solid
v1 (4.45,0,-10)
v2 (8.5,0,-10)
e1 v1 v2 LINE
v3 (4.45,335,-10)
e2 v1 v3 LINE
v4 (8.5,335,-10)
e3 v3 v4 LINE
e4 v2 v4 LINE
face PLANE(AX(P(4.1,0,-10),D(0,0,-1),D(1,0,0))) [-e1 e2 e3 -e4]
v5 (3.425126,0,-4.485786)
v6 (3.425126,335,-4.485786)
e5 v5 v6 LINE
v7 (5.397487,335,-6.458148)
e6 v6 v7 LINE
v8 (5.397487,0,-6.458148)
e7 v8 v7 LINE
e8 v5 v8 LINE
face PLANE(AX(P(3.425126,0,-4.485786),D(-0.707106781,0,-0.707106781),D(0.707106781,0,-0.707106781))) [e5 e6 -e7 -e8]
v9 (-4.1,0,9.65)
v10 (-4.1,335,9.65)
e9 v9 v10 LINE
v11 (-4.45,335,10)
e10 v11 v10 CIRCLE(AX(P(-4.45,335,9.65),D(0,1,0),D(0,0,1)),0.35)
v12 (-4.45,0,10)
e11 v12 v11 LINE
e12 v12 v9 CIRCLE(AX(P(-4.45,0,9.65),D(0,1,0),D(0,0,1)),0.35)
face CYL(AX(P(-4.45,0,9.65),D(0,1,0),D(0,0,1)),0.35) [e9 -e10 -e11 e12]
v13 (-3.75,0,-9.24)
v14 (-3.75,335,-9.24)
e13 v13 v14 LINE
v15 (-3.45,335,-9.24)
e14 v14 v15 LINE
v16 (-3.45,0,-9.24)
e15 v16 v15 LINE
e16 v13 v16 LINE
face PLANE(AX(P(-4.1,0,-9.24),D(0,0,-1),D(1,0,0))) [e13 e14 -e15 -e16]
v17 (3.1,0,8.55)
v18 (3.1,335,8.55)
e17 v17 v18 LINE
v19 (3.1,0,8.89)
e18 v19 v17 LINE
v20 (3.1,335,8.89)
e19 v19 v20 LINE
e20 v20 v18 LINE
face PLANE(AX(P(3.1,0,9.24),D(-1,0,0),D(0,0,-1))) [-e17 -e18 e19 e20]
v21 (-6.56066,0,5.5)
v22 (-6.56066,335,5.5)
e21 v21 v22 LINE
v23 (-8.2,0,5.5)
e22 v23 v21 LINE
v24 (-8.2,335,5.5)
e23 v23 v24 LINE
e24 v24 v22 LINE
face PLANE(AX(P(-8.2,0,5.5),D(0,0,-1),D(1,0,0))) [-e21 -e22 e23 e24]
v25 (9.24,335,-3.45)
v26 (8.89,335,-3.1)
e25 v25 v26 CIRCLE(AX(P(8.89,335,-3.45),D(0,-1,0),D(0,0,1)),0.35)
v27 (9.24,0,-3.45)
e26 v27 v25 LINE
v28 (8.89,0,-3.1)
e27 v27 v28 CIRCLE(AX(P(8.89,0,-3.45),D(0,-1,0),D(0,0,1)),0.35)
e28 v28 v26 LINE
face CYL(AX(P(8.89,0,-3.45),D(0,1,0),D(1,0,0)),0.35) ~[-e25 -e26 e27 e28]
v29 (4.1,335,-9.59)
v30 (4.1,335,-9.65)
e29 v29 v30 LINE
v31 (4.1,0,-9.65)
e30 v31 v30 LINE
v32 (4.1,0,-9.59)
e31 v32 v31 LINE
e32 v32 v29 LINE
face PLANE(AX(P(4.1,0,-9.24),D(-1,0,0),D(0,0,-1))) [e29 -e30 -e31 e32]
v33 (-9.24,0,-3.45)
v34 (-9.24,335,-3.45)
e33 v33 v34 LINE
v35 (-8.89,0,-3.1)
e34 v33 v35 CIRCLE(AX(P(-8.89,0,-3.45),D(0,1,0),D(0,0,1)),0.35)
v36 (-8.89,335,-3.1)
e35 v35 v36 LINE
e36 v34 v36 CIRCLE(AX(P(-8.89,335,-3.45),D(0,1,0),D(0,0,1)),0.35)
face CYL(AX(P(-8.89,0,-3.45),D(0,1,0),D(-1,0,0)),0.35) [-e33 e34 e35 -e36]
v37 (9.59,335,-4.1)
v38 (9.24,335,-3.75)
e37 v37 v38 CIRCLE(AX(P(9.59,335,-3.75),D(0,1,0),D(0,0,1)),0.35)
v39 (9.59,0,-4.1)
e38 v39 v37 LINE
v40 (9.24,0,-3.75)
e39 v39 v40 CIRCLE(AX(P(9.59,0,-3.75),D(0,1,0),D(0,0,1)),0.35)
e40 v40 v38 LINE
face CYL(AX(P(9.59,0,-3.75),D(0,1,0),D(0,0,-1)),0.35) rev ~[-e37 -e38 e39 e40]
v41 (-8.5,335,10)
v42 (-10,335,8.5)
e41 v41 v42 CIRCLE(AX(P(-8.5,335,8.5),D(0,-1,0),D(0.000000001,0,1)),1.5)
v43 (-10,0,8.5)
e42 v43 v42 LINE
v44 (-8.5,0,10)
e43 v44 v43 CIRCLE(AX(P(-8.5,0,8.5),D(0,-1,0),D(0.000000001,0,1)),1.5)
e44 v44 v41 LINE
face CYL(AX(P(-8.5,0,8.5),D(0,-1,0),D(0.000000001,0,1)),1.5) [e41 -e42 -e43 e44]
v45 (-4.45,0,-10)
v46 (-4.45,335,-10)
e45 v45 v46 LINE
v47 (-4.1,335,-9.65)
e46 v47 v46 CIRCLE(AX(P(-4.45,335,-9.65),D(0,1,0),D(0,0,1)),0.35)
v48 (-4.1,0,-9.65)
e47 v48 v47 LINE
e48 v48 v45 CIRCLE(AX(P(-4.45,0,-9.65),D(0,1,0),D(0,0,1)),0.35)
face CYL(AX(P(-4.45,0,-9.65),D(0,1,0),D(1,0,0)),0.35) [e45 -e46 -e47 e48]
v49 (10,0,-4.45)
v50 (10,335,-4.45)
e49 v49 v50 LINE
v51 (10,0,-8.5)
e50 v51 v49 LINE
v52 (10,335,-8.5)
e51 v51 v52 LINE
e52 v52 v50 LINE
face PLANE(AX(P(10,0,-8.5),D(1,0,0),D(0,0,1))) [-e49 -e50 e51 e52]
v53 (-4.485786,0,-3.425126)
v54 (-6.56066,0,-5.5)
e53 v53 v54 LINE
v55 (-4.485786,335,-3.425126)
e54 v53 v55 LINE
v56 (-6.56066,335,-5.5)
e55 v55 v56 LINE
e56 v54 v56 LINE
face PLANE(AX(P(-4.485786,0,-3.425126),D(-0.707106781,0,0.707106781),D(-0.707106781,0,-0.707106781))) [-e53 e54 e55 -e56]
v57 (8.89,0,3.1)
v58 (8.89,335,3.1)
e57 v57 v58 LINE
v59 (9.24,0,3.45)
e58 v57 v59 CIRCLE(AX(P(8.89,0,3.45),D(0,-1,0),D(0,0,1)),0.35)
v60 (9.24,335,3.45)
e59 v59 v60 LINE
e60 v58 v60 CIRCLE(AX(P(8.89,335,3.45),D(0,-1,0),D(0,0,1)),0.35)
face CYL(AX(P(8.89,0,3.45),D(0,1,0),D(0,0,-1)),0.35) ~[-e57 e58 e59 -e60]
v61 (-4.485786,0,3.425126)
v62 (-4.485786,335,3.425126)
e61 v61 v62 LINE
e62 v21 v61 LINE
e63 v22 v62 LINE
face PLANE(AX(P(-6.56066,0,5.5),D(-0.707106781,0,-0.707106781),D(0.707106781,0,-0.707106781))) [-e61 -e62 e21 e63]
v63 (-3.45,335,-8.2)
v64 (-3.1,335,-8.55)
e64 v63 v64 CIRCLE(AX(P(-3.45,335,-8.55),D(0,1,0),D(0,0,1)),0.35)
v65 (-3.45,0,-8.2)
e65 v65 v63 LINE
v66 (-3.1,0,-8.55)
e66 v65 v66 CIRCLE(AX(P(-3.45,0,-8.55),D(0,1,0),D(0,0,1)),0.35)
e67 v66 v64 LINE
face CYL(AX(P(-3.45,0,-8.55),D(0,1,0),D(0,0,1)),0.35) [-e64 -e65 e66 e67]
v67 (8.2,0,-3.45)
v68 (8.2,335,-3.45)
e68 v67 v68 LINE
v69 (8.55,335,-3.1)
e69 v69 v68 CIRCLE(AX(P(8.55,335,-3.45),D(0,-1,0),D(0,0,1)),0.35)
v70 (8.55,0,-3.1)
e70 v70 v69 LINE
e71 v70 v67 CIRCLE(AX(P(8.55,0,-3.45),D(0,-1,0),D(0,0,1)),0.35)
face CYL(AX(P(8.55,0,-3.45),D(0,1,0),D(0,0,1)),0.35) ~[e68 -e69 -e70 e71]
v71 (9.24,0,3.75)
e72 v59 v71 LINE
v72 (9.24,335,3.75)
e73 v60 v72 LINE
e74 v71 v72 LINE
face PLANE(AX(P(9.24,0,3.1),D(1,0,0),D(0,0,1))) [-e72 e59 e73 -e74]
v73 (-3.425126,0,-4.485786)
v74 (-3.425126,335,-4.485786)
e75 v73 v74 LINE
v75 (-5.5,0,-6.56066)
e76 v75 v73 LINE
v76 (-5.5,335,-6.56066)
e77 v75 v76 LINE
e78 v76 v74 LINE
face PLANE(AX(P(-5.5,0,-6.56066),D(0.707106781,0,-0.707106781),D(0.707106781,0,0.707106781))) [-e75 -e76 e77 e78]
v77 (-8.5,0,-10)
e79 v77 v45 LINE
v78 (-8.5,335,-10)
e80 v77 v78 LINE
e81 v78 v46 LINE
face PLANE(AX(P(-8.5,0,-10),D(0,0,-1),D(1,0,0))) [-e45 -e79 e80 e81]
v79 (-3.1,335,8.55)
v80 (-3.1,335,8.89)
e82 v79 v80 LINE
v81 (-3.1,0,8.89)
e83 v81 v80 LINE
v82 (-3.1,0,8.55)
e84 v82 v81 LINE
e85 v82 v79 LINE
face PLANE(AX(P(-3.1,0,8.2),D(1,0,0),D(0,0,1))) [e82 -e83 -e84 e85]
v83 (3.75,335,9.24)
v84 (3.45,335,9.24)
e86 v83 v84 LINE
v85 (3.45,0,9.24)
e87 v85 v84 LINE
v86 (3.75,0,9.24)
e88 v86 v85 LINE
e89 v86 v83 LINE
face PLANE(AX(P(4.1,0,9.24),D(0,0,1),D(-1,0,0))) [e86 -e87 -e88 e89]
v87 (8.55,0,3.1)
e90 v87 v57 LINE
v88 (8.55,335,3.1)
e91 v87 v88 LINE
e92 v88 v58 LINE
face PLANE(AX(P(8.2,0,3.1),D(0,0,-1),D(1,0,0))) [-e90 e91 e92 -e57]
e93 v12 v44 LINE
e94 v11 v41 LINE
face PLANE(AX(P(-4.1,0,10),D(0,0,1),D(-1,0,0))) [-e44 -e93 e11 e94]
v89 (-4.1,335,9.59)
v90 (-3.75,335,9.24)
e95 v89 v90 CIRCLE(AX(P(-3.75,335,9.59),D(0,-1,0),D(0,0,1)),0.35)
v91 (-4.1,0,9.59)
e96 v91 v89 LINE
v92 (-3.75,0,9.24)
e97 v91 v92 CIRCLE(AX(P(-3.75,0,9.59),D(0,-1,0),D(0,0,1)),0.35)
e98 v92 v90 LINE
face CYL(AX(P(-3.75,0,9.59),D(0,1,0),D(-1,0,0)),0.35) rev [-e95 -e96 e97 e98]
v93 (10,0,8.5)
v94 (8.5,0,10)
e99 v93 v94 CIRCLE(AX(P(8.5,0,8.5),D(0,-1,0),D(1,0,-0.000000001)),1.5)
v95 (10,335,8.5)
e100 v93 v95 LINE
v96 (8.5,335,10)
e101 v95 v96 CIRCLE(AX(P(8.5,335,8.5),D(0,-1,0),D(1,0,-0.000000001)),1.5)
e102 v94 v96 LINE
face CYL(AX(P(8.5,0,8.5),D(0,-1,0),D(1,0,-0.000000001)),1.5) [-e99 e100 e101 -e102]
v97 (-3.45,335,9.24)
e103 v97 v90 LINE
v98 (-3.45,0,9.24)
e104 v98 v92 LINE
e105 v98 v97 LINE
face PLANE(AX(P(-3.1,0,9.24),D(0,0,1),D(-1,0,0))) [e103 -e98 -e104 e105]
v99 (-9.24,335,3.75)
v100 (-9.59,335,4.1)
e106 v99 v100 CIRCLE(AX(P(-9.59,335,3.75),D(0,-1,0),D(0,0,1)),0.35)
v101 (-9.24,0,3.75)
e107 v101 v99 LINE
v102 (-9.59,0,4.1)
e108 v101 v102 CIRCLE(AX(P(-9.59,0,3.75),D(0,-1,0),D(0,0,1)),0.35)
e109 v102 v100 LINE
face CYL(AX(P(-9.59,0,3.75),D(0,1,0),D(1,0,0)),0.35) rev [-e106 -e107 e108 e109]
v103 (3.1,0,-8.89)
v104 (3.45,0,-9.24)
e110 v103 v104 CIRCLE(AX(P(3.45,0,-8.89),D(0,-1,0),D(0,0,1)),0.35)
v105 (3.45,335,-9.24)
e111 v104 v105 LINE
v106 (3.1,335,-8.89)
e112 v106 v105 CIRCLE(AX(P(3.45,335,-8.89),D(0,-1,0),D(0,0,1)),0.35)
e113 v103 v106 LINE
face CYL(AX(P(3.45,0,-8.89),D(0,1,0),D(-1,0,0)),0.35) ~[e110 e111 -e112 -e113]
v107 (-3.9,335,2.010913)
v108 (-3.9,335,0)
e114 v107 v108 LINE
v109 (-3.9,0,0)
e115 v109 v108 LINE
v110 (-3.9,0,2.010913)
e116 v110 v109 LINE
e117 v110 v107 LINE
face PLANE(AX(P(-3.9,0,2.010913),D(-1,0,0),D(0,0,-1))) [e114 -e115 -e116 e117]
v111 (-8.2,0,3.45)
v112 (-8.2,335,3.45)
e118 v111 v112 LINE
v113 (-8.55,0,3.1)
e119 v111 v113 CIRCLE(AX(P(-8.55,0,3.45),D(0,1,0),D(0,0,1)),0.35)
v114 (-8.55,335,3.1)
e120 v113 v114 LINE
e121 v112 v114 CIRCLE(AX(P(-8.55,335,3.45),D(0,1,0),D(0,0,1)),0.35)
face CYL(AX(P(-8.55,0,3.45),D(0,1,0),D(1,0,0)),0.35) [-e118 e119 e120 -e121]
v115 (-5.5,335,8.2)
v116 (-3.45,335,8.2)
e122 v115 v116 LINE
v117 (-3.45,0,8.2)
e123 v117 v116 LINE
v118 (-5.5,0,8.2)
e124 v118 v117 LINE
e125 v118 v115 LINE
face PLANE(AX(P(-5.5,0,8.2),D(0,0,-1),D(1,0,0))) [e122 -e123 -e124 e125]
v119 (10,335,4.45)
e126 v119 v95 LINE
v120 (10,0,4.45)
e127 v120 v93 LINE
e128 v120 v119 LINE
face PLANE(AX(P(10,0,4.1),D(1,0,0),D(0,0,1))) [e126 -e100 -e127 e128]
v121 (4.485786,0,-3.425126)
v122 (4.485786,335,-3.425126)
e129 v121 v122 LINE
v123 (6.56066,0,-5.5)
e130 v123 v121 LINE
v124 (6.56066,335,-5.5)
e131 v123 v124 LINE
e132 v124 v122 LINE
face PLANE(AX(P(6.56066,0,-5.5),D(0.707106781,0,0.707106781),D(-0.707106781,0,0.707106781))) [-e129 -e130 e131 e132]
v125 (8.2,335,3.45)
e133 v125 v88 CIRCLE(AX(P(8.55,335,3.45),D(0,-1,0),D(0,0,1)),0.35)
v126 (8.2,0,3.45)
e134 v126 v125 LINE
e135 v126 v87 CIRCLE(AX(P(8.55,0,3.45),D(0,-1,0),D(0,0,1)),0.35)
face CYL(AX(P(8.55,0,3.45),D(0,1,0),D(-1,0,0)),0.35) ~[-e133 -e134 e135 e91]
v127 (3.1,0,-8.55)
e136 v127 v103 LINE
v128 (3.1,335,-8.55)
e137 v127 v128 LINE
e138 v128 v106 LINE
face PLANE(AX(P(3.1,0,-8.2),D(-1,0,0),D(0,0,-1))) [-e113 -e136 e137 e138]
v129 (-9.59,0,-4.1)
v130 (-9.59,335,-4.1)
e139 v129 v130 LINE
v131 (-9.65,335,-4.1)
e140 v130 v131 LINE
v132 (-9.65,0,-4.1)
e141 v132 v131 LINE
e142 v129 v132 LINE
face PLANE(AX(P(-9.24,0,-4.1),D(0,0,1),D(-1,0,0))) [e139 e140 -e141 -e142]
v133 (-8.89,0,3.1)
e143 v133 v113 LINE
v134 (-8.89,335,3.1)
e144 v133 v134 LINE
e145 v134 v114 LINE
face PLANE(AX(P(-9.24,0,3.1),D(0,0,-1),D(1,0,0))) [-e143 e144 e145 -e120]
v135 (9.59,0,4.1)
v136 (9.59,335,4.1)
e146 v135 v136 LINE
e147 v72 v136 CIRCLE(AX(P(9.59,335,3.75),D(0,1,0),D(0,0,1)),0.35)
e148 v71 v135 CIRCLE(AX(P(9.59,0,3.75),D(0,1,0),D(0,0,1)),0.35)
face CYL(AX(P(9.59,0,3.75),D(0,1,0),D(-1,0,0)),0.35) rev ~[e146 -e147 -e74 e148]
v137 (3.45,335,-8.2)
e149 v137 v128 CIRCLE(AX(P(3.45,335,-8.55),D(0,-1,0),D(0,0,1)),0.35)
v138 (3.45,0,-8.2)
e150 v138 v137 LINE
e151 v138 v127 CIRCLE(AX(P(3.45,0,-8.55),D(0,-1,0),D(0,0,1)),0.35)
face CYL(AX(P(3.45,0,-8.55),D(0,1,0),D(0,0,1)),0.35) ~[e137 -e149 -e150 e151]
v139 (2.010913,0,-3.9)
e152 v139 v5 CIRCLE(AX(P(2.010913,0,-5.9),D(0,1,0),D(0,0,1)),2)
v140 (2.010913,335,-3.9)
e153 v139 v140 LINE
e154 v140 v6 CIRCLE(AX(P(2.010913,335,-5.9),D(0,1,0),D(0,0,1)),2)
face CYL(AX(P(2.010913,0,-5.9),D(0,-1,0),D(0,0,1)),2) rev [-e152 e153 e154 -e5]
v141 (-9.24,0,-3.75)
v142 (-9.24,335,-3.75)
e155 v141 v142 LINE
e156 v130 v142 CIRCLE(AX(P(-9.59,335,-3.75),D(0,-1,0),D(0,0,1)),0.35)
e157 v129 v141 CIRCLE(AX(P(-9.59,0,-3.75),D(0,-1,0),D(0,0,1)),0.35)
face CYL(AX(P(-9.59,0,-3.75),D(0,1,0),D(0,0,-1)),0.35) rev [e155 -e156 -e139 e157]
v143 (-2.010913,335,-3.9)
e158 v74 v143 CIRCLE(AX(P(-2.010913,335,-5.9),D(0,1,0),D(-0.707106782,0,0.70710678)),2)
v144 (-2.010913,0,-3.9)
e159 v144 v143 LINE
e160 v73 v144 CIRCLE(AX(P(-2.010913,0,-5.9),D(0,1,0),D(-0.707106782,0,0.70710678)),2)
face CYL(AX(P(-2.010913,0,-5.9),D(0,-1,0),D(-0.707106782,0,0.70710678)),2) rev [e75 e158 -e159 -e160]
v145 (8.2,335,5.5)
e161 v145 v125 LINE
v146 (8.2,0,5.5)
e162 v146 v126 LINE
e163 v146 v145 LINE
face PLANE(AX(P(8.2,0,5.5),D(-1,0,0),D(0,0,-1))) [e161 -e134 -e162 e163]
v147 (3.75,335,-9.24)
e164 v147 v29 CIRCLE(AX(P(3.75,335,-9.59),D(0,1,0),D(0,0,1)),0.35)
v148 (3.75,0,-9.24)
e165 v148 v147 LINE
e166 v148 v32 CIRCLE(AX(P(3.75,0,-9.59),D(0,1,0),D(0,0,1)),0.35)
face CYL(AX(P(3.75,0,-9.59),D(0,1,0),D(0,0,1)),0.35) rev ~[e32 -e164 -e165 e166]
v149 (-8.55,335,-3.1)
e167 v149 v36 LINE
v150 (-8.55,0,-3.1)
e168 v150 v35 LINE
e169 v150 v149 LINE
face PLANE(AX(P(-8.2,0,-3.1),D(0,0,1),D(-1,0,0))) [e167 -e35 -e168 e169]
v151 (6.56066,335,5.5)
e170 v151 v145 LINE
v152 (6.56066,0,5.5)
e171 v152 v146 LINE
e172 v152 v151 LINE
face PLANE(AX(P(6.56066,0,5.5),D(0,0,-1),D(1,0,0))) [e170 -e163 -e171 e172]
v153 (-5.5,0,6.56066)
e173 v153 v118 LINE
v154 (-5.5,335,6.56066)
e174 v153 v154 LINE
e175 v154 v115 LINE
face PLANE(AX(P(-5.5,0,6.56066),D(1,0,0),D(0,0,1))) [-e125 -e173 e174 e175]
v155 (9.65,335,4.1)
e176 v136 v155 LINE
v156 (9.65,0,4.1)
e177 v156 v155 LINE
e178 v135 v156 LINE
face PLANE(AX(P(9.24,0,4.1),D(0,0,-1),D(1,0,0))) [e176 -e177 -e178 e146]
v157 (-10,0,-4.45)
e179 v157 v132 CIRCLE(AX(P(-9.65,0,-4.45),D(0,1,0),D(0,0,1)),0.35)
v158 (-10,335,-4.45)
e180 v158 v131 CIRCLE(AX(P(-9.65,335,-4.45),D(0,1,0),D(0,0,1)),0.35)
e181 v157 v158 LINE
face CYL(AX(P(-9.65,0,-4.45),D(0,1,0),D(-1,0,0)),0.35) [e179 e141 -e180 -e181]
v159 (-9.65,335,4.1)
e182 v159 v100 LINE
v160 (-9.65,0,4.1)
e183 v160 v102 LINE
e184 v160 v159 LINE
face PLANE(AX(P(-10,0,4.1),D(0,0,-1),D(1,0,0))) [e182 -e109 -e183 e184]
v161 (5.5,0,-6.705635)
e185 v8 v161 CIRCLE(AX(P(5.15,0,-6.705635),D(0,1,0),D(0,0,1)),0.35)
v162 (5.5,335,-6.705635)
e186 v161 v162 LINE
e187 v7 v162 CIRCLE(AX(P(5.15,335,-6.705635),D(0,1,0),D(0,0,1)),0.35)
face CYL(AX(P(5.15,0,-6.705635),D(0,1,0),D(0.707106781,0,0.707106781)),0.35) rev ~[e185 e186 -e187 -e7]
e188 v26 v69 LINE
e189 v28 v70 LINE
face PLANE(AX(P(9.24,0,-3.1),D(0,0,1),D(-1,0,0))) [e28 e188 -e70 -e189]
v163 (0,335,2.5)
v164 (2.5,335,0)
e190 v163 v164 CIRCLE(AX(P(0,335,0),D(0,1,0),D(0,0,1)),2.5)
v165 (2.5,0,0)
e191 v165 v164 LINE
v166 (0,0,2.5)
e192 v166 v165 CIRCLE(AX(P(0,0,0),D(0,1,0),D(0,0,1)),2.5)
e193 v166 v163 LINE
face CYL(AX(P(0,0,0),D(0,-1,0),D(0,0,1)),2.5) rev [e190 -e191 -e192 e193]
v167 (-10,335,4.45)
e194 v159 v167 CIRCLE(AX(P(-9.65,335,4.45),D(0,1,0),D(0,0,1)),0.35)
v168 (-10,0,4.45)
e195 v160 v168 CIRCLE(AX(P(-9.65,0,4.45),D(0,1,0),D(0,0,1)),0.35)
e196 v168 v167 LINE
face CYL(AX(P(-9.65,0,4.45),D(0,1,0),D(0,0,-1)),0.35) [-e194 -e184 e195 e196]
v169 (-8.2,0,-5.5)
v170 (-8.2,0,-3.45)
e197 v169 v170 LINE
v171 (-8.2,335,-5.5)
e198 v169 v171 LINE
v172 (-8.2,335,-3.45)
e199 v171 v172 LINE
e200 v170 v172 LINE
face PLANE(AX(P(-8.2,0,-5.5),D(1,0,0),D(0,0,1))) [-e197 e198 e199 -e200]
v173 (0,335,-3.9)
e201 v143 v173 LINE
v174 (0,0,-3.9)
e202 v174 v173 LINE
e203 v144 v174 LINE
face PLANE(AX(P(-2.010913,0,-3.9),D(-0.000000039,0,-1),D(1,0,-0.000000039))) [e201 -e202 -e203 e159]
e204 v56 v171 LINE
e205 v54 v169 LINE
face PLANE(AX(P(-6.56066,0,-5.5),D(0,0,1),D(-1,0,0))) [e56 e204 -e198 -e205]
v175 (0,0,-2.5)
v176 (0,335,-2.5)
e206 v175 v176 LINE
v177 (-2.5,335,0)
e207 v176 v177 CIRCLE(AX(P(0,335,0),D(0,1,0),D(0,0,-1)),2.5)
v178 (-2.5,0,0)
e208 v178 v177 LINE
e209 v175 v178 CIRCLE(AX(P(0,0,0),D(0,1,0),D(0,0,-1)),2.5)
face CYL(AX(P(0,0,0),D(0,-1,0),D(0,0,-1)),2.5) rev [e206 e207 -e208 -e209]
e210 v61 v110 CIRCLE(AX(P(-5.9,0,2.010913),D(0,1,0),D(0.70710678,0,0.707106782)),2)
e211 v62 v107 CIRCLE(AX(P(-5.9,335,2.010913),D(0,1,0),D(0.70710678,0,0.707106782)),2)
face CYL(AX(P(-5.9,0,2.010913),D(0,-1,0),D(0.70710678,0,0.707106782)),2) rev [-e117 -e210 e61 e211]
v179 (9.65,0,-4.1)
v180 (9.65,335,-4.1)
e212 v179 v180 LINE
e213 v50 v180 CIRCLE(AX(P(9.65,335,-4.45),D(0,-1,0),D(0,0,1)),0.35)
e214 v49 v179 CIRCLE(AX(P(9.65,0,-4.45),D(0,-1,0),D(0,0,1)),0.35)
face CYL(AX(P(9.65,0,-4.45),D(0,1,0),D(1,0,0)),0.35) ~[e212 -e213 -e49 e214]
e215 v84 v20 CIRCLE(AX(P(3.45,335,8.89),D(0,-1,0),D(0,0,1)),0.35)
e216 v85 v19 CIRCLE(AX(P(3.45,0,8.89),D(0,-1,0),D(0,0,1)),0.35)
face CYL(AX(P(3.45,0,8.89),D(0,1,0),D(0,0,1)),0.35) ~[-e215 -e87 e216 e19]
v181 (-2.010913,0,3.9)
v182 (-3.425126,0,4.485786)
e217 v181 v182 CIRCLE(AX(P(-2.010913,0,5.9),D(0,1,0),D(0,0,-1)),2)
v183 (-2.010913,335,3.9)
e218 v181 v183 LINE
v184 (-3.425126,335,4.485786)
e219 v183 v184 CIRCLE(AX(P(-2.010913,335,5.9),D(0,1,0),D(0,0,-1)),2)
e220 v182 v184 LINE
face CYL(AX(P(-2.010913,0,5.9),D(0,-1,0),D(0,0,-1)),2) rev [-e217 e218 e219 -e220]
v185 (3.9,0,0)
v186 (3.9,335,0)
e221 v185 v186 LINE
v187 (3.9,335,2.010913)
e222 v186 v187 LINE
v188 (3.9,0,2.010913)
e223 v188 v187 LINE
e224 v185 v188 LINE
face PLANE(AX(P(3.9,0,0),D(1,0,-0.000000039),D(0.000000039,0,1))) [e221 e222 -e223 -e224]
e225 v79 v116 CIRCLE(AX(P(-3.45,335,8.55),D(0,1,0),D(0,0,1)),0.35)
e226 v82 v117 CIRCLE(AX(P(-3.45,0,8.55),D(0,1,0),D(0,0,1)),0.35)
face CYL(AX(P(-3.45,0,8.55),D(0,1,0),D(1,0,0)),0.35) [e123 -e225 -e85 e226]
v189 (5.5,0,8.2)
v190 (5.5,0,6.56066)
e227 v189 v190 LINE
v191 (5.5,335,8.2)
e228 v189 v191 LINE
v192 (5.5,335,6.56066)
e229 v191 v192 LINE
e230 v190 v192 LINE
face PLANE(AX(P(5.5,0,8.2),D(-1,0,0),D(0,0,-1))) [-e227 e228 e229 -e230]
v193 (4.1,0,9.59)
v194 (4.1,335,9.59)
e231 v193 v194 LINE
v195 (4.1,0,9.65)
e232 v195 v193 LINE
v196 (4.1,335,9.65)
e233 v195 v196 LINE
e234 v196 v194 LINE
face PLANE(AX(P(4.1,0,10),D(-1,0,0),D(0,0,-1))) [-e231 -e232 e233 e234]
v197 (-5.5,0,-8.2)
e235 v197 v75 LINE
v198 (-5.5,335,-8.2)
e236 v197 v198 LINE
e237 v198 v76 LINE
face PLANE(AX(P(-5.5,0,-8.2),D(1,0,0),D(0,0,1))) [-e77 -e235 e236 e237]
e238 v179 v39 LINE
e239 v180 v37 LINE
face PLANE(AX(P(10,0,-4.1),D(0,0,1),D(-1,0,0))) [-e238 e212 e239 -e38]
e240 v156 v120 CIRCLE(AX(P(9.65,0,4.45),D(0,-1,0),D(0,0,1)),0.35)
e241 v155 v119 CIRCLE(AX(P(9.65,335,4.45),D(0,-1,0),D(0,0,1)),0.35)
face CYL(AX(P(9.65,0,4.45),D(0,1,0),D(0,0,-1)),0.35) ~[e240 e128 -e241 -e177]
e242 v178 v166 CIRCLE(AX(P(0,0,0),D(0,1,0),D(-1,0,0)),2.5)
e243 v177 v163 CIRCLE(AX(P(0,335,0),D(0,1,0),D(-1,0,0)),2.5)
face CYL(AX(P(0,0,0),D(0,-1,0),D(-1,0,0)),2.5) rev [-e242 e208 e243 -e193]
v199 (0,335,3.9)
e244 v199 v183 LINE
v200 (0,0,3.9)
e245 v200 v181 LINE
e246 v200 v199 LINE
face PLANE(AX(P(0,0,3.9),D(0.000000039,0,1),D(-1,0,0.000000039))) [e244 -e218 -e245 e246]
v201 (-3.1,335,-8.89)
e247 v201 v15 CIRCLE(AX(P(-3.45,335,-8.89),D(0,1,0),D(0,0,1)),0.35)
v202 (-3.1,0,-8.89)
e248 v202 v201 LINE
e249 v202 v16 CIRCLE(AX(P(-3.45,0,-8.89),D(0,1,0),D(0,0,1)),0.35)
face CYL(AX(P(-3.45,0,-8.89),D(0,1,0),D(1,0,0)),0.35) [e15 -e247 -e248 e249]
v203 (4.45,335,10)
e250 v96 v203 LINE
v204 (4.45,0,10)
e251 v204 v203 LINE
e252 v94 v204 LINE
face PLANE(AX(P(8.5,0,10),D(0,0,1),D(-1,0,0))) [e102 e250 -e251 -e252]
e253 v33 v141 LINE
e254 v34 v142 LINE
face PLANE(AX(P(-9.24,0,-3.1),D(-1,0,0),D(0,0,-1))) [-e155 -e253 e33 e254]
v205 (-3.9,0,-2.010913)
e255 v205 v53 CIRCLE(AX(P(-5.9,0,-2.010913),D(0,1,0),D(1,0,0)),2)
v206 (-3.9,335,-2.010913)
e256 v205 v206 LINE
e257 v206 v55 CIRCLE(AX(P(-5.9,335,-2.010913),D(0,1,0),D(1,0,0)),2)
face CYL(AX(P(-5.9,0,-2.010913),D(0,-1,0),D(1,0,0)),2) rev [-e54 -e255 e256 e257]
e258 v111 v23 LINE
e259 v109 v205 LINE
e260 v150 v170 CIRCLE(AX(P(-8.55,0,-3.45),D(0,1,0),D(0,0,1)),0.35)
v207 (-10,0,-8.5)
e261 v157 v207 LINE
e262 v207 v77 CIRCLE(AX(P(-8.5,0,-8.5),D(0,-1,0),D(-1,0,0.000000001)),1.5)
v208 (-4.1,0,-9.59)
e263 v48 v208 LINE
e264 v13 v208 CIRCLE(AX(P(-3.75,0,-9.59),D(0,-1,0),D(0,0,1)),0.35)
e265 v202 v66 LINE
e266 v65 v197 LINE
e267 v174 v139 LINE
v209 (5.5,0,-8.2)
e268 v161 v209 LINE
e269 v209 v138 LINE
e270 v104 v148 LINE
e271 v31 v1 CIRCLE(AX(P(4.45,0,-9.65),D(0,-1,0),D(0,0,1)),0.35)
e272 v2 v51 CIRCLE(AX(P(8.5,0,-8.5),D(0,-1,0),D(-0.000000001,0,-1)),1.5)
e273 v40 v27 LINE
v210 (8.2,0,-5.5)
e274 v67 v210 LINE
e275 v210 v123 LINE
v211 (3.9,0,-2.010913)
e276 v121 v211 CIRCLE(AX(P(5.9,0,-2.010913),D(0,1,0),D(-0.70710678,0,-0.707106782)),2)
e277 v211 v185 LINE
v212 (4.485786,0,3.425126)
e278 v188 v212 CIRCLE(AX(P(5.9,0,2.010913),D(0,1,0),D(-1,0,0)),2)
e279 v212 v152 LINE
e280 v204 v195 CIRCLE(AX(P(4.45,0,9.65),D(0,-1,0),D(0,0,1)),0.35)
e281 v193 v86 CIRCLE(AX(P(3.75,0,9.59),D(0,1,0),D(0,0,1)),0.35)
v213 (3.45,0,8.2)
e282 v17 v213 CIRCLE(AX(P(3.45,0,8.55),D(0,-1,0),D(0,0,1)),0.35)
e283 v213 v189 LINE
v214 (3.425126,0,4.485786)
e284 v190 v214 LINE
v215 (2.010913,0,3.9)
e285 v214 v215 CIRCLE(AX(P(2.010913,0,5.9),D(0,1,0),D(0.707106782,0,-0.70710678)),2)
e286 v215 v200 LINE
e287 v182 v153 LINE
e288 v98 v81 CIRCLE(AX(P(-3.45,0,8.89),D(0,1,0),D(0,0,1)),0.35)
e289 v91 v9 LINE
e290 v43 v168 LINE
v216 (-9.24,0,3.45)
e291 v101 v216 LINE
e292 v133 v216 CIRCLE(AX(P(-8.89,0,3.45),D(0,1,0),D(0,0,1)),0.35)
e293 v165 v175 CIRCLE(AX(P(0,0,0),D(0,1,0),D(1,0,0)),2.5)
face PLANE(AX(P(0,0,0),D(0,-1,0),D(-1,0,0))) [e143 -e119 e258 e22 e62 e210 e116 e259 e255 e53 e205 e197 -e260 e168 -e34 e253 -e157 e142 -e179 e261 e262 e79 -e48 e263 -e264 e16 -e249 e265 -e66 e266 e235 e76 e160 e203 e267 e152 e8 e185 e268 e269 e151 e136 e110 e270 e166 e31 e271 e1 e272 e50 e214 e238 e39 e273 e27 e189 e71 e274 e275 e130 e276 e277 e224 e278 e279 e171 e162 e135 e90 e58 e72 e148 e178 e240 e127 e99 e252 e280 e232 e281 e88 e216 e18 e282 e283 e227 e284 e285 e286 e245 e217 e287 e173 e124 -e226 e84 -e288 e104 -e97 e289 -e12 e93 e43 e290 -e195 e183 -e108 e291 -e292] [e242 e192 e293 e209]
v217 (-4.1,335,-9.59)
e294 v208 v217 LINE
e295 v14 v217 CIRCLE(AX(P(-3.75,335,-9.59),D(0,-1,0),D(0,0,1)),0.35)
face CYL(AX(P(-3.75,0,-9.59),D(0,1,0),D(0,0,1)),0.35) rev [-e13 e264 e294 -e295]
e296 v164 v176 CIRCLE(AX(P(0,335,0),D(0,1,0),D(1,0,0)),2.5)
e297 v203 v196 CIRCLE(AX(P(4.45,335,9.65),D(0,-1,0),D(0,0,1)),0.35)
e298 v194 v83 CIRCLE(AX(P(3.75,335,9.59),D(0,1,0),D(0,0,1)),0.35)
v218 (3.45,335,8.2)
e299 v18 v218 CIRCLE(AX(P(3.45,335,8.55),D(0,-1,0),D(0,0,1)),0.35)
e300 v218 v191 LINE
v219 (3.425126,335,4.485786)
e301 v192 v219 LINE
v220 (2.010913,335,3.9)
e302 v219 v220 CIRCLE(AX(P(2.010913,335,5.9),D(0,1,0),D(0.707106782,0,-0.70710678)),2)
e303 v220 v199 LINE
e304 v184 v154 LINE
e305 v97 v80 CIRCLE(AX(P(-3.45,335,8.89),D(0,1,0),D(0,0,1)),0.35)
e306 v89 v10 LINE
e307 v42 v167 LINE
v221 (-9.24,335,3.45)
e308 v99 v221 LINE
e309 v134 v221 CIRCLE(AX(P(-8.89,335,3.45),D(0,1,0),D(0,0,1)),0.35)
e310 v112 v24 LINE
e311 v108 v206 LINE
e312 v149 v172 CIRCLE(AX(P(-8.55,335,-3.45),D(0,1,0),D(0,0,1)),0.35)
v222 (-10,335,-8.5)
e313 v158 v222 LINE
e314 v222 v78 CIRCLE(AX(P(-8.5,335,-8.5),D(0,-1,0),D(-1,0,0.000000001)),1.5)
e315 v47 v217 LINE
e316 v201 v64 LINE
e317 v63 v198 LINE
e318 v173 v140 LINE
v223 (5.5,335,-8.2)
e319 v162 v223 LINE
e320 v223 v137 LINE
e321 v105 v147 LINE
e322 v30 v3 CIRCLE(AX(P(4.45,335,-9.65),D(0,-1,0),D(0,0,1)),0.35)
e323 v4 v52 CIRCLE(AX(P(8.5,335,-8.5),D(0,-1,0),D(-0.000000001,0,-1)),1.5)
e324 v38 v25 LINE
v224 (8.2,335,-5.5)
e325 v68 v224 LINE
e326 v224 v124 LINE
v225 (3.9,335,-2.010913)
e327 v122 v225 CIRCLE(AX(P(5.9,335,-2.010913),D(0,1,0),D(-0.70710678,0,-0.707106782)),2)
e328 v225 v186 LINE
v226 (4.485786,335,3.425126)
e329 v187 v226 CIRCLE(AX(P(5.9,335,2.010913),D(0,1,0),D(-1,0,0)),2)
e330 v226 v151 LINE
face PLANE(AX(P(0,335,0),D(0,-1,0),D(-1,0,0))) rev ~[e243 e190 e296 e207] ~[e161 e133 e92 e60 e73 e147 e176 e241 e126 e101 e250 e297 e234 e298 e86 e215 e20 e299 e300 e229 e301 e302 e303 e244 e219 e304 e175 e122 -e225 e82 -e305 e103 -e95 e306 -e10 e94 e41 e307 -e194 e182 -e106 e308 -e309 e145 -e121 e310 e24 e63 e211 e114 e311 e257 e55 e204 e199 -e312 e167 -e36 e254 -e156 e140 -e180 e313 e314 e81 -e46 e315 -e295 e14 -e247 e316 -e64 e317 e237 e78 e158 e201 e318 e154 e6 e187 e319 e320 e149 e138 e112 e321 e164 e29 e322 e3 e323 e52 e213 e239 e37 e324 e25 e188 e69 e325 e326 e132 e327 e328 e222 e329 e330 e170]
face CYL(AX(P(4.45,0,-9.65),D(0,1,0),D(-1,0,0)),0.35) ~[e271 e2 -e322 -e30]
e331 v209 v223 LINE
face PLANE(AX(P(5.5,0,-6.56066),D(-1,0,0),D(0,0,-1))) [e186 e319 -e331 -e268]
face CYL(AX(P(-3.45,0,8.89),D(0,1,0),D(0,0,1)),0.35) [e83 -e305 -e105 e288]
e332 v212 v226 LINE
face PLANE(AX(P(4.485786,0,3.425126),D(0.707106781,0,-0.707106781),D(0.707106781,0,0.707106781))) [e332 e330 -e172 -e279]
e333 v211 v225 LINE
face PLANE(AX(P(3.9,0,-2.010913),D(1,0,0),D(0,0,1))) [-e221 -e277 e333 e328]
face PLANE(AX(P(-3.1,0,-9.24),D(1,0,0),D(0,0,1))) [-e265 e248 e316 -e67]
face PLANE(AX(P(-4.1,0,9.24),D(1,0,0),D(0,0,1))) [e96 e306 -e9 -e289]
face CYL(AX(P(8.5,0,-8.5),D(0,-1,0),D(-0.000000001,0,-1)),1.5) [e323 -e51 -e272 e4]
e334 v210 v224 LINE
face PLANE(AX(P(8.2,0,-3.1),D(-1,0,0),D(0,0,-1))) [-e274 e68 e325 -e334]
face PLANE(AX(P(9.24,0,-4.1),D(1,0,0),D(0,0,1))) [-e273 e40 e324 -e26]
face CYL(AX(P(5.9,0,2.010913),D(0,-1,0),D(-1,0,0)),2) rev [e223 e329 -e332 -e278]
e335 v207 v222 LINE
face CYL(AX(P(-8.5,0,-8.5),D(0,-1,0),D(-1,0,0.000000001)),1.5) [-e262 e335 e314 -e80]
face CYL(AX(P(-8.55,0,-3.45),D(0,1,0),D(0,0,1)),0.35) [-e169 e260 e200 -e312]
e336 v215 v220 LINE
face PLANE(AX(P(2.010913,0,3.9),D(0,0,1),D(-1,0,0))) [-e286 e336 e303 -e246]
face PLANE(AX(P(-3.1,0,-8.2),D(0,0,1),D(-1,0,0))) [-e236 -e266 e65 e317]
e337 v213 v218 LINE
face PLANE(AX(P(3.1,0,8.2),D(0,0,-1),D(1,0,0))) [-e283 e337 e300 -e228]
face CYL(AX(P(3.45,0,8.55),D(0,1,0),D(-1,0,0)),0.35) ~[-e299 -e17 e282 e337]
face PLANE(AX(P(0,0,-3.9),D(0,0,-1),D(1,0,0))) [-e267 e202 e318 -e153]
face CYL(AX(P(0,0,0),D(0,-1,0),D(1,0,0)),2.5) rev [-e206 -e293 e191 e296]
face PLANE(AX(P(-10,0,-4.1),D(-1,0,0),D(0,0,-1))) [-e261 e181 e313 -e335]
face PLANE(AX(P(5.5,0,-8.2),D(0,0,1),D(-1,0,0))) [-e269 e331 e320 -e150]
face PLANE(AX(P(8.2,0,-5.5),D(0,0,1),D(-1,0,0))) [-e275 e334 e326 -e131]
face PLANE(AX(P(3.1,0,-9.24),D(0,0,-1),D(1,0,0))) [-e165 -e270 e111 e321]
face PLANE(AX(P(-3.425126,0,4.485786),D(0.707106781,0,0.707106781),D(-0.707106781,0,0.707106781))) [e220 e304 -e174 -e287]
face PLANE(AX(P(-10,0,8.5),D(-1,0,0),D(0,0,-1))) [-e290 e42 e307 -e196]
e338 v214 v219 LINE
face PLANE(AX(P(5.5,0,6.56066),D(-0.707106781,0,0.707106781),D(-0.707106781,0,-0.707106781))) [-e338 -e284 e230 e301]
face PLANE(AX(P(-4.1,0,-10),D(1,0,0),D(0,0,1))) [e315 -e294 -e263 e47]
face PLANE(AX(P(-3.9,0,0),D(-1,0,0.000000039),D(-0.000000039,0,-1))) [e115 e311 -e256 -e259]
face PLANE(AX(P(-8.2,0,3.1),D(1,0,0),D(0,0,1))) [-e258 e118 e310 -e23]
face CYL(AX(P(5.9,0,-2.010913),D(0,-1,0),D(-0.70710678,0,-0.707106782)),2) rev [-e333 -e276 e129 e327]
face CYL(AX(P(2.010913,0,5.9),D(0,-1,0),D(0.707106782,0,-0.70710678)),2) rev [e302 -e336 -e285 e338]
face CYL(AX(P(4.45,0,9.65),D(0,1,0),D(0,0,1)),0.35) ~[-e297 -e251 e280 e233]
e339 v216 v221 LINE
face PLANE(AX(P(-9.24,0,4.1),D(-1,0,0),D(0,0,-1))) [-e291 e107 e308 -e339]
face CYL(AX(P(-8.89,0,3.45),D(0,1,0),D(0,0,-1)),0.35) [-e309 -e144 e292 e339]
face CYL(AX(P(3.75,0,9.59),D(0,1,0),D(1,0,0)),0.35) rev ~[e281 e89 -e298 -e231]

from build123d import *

# Parameters (mm, degrees)
BOSS_EXTRUDE1_DEPTH = 335
FILLET1_R           = 0.35


with BuildPart() as part:
    # Sketch1 → Boss-Extrude1 (new body)
    with BuildSketch(Plane(origin=(0, 0, 0), x_dir=(1, 0, 0), z_dir=(0, 1, 0))):
        with BuildLine():
            Line((3.425126266, 4.485786438), (5.5, 6.560660172))
            Line((5.5, 6.560660172), (5.5, 8.2))
            Line((5.5, 8.2), (3.1, 8.2))
            Line((3.1, 8.2), (3.1, 9.24))
            Line((3.1, 9.24), (4.1, 9.24))
            Line((4.1, 9.24), (4.1, 10))
            Line((4.1, 10), (8.5, 10))
            ThreePointArc((8.5, 10), (9.560660172, 9.560660172), (10, 8.5))
            Line((10, 8.5), (10, 4.1))
            Line((10, 4.1), (9.24, 4.1))
            Line((9.24, 4.1), (9.24, 3.1))
            Line((9.24, 3.1), (8.2, 3.1))
            Line((8.2, 3.1), (8.2, 5.5))
            Line((8.2, 5.5), (6.560660172, 5.5))
            Line((6.560660172, 5.5), (4.485786359, 3.425126187))
            ThreePointArc((4.485786359, 3.425126187), (4.052240856, 2.77627949), (3.899999921, 2.010912625))
            Line((3.899999921, 2.010912625), (3.899999921, 0))
            Line((3.899999921, 0), (3.9, -2.010912703))
            ThreePointArc((3.9, -2.010912703), (4.052240935, -2.776279568), (4.485786438, -3.425126266))
            Line((4.485786438, -3.425126266), (6.560660172, -5.5))
            Line((6.560660172, -5.5), (8.2, -5.5))
            Line((8.2, -5.5), (8.2, -3.1))
            Line((8.2, -3.1), (9.24, -3.1))
            Line((9.24, -3.1), (9.24, -4.1))
            Line((9.24, -4.1), (10, -4.1))
            Line((10, -4.1), (10, -8.5))
            ThreePointArc((10, -8.5), (9.560660172, -9.560660172), (8.5, -10))
            Line((8.5, -10), (4.1, -10))
            Line((4.1, -10), (4.1, -9.24))
            Line((4.1, -9.24), (3.1, -9.24))
            Line((3.1, -9.24), (3.1, -8.2))
            Line((3.1, -8.2), (5.5, -8.2))
            Line((5.5, -8.2), (5.5, -6.560660172))
            Line((5.5, -6.560660172), (3.425126187, -4.485786359))
            ThreePointArc((3.425126187, -4.485786359), (2.77627949, -4.052240856), (2.010912625, -3.899999921))
            Line((2.010912625, -3.899999921), (0, -3.899999921))
            Line((0, -3.899999921), (-2.010912703, -3.9))
            ThreePointArc((-2.010912703, -3.9), (-2.776279568, -4.052240935), (-3.425126266, -4.485786438))
            Line((-3.425126266, -4.485786438), (-5.5, -6.560660172))
            Line((-5.5, -6.560660172), (-5.5, -8.2))
            Line((-5.5, -8.2), (-3.1, -8.2))
            Line((-3.1, -8.2), (-3.1, -9.24))
            Line((-3.1, -9.24), (-4.1, -9.24))
            Line((-4.1, -9.24), (-4.1, -10))
            Line((-4.1, -10), (-8.5, -10))
            ThreePointArc((-8.5, -10), (-9.560660172, -9.560660172), (-10, -8.5))
            Line((-10, -8.5), (-10, -4.1))
            Line((-10, -4.1), (-9.24, -4.1))
            Line((-9.24, -4.1), (-9.24, -3.1))
            Line((-9.24, -3.1), (-8.2, -3.1))
            Line((-8.2, -3.1), (-8.2, -5.5))
            Line((-8.2, -5.5), (-6.560660172, -5.5))
            Line((-6.560660172, -5.5), (-4.485786359, -3.425126187))
            ThreePointArc((-4.485786359, -3.425126187), (-4.052240856, -2.77627949), (-3.899999921, -2.010912625))
            Line((-3.899999921, -2.010912625), (-3.899999921, 0))
            Line((-3.899999921, 0), (-3.9, 2.010912703))
            ThreePointArc((-3.9, 2.010912703), (-4.052240935, 2.776279568), (-4.485786438, 3.425126266))
            Line((-4.485786438, 3.425126266), (-6.560660172, 5.5))
            Line((-6.560660172, 5.5), (-8.2, 5.5))
            Line((-8.2, 5.5), (-8.2, 3.1))
            Line((-8.2, 3.1), (-9.24, 3.1))
            Line((-9.24, 3.1), (-9.24, 4.1))
            Line((-9.24, 4.1), (-10, 4.1))
            Line((-10, 4.1), (-10, 8.5))
            ThreePointArc((-10, 8.5), (-9.560660172, 9.560660172), (-8.5, 10))
            Line((-8.5, 10), (-4.1, 10))
            Line((-4.1, 10), (-4.1, 9.24))
            Line((-4.1, 9.24), (-3.1, 9.24))
            Line((-3.1, 9.24), (-3.1, 8.2))
            Line((-3.1, 8.2), (-5.5, 8.2))
            Line((-5.5, 8.2), (-5.5, 6.560660172))
            Line((-5.5, 6.560660172), (-3.425126187, 4.485786359))
            ThreePointArc((-3.425126187, 4.485786359), (-2.77627949, 4.052240856), (-2.010912625, 3.899999921))
            Line((-2.010912625, 3.899999921), (0, 3.9))
            Line((0, 3.9), (2.010912703, 3.9))
            ThreePointArc((2.010912703, 3.9), (2.776279568, 4.052240935), (3.425126266, 4.485786438))
        make_face()
        with BuildLine():
            ThreePointArc((2.5, 0), (1.767766953, 1.767766953), (0, 2.5))
            ThreePointArc((0, 2.5), (-1.767766953, 1.767766953), (-2.5, 0))
            ThreePointArc((-2.5, 0), (-1.767766953, -1.767766953), (0, -2.5))
            ThreePointArc((0, -2.5), (1.767766953, -1.767766953), (2.5, 0))
        make_face(mode=Mode.SUBTRACT)
    extrude(amount=BOSS_EXTRUDE1_DEPTH)

    # Fillet1
    fillet1_edges = [part.edges().sort_by_distance(p)[0] for p in [
        (5.5, 167.5, -6.560660172),
        (3.1, 167.5, -8.2),
        (3.1, 167.5, -9.24),
        (4.1, 167.5, -9.24),
        (4.1, 167.5, -10),
        (10, 167.5, -4.1),
        (9.24, 167.5, -4.1),
        (9.24, 167.5, -3.1),
        (8.2, 167.5, -3.1),
        (8.2, 167.5, 3.1),
        (9.24, 167.5, 3.1),
        (9.24, 167.5, 4.1),
        (10, 167.5, 4.1),
        (4.1, 167.5, 10),
        (4.1, 167.5, 9.24),
        (3.1, 167.5, 9.24),
        (3.1, 167.5, 8.2),
        (-3.1, 167.5, 8.2),
        (-3.1, 167.5, 9.24),
        (-4.1, 167.5, 9.24),
        (-4.1, 167.5, 10),
        (-10, 167.5, 4.1),
        (-9.24, 167.5, 4.1),
        (-9.24, 167.5, 3.1),
        (-8.2, 167.5, 3.1),
        (-8.2, 167.5, -3.1),
        (-9.24, 167.5, -3.1),
        (-9.24, 167.5, -4.1),
        (-10, 167.5, -4.1),
        (-4.1, 167.5, -10),
        (-4.1, 167.5, -9.24),
        (-3.1, 167.5, -9.24),
        (-3.1, 167.5, -8.2),
    ]]
    fillet(fillet1_edges, radius=FILLET1_R)


solid = part.part
